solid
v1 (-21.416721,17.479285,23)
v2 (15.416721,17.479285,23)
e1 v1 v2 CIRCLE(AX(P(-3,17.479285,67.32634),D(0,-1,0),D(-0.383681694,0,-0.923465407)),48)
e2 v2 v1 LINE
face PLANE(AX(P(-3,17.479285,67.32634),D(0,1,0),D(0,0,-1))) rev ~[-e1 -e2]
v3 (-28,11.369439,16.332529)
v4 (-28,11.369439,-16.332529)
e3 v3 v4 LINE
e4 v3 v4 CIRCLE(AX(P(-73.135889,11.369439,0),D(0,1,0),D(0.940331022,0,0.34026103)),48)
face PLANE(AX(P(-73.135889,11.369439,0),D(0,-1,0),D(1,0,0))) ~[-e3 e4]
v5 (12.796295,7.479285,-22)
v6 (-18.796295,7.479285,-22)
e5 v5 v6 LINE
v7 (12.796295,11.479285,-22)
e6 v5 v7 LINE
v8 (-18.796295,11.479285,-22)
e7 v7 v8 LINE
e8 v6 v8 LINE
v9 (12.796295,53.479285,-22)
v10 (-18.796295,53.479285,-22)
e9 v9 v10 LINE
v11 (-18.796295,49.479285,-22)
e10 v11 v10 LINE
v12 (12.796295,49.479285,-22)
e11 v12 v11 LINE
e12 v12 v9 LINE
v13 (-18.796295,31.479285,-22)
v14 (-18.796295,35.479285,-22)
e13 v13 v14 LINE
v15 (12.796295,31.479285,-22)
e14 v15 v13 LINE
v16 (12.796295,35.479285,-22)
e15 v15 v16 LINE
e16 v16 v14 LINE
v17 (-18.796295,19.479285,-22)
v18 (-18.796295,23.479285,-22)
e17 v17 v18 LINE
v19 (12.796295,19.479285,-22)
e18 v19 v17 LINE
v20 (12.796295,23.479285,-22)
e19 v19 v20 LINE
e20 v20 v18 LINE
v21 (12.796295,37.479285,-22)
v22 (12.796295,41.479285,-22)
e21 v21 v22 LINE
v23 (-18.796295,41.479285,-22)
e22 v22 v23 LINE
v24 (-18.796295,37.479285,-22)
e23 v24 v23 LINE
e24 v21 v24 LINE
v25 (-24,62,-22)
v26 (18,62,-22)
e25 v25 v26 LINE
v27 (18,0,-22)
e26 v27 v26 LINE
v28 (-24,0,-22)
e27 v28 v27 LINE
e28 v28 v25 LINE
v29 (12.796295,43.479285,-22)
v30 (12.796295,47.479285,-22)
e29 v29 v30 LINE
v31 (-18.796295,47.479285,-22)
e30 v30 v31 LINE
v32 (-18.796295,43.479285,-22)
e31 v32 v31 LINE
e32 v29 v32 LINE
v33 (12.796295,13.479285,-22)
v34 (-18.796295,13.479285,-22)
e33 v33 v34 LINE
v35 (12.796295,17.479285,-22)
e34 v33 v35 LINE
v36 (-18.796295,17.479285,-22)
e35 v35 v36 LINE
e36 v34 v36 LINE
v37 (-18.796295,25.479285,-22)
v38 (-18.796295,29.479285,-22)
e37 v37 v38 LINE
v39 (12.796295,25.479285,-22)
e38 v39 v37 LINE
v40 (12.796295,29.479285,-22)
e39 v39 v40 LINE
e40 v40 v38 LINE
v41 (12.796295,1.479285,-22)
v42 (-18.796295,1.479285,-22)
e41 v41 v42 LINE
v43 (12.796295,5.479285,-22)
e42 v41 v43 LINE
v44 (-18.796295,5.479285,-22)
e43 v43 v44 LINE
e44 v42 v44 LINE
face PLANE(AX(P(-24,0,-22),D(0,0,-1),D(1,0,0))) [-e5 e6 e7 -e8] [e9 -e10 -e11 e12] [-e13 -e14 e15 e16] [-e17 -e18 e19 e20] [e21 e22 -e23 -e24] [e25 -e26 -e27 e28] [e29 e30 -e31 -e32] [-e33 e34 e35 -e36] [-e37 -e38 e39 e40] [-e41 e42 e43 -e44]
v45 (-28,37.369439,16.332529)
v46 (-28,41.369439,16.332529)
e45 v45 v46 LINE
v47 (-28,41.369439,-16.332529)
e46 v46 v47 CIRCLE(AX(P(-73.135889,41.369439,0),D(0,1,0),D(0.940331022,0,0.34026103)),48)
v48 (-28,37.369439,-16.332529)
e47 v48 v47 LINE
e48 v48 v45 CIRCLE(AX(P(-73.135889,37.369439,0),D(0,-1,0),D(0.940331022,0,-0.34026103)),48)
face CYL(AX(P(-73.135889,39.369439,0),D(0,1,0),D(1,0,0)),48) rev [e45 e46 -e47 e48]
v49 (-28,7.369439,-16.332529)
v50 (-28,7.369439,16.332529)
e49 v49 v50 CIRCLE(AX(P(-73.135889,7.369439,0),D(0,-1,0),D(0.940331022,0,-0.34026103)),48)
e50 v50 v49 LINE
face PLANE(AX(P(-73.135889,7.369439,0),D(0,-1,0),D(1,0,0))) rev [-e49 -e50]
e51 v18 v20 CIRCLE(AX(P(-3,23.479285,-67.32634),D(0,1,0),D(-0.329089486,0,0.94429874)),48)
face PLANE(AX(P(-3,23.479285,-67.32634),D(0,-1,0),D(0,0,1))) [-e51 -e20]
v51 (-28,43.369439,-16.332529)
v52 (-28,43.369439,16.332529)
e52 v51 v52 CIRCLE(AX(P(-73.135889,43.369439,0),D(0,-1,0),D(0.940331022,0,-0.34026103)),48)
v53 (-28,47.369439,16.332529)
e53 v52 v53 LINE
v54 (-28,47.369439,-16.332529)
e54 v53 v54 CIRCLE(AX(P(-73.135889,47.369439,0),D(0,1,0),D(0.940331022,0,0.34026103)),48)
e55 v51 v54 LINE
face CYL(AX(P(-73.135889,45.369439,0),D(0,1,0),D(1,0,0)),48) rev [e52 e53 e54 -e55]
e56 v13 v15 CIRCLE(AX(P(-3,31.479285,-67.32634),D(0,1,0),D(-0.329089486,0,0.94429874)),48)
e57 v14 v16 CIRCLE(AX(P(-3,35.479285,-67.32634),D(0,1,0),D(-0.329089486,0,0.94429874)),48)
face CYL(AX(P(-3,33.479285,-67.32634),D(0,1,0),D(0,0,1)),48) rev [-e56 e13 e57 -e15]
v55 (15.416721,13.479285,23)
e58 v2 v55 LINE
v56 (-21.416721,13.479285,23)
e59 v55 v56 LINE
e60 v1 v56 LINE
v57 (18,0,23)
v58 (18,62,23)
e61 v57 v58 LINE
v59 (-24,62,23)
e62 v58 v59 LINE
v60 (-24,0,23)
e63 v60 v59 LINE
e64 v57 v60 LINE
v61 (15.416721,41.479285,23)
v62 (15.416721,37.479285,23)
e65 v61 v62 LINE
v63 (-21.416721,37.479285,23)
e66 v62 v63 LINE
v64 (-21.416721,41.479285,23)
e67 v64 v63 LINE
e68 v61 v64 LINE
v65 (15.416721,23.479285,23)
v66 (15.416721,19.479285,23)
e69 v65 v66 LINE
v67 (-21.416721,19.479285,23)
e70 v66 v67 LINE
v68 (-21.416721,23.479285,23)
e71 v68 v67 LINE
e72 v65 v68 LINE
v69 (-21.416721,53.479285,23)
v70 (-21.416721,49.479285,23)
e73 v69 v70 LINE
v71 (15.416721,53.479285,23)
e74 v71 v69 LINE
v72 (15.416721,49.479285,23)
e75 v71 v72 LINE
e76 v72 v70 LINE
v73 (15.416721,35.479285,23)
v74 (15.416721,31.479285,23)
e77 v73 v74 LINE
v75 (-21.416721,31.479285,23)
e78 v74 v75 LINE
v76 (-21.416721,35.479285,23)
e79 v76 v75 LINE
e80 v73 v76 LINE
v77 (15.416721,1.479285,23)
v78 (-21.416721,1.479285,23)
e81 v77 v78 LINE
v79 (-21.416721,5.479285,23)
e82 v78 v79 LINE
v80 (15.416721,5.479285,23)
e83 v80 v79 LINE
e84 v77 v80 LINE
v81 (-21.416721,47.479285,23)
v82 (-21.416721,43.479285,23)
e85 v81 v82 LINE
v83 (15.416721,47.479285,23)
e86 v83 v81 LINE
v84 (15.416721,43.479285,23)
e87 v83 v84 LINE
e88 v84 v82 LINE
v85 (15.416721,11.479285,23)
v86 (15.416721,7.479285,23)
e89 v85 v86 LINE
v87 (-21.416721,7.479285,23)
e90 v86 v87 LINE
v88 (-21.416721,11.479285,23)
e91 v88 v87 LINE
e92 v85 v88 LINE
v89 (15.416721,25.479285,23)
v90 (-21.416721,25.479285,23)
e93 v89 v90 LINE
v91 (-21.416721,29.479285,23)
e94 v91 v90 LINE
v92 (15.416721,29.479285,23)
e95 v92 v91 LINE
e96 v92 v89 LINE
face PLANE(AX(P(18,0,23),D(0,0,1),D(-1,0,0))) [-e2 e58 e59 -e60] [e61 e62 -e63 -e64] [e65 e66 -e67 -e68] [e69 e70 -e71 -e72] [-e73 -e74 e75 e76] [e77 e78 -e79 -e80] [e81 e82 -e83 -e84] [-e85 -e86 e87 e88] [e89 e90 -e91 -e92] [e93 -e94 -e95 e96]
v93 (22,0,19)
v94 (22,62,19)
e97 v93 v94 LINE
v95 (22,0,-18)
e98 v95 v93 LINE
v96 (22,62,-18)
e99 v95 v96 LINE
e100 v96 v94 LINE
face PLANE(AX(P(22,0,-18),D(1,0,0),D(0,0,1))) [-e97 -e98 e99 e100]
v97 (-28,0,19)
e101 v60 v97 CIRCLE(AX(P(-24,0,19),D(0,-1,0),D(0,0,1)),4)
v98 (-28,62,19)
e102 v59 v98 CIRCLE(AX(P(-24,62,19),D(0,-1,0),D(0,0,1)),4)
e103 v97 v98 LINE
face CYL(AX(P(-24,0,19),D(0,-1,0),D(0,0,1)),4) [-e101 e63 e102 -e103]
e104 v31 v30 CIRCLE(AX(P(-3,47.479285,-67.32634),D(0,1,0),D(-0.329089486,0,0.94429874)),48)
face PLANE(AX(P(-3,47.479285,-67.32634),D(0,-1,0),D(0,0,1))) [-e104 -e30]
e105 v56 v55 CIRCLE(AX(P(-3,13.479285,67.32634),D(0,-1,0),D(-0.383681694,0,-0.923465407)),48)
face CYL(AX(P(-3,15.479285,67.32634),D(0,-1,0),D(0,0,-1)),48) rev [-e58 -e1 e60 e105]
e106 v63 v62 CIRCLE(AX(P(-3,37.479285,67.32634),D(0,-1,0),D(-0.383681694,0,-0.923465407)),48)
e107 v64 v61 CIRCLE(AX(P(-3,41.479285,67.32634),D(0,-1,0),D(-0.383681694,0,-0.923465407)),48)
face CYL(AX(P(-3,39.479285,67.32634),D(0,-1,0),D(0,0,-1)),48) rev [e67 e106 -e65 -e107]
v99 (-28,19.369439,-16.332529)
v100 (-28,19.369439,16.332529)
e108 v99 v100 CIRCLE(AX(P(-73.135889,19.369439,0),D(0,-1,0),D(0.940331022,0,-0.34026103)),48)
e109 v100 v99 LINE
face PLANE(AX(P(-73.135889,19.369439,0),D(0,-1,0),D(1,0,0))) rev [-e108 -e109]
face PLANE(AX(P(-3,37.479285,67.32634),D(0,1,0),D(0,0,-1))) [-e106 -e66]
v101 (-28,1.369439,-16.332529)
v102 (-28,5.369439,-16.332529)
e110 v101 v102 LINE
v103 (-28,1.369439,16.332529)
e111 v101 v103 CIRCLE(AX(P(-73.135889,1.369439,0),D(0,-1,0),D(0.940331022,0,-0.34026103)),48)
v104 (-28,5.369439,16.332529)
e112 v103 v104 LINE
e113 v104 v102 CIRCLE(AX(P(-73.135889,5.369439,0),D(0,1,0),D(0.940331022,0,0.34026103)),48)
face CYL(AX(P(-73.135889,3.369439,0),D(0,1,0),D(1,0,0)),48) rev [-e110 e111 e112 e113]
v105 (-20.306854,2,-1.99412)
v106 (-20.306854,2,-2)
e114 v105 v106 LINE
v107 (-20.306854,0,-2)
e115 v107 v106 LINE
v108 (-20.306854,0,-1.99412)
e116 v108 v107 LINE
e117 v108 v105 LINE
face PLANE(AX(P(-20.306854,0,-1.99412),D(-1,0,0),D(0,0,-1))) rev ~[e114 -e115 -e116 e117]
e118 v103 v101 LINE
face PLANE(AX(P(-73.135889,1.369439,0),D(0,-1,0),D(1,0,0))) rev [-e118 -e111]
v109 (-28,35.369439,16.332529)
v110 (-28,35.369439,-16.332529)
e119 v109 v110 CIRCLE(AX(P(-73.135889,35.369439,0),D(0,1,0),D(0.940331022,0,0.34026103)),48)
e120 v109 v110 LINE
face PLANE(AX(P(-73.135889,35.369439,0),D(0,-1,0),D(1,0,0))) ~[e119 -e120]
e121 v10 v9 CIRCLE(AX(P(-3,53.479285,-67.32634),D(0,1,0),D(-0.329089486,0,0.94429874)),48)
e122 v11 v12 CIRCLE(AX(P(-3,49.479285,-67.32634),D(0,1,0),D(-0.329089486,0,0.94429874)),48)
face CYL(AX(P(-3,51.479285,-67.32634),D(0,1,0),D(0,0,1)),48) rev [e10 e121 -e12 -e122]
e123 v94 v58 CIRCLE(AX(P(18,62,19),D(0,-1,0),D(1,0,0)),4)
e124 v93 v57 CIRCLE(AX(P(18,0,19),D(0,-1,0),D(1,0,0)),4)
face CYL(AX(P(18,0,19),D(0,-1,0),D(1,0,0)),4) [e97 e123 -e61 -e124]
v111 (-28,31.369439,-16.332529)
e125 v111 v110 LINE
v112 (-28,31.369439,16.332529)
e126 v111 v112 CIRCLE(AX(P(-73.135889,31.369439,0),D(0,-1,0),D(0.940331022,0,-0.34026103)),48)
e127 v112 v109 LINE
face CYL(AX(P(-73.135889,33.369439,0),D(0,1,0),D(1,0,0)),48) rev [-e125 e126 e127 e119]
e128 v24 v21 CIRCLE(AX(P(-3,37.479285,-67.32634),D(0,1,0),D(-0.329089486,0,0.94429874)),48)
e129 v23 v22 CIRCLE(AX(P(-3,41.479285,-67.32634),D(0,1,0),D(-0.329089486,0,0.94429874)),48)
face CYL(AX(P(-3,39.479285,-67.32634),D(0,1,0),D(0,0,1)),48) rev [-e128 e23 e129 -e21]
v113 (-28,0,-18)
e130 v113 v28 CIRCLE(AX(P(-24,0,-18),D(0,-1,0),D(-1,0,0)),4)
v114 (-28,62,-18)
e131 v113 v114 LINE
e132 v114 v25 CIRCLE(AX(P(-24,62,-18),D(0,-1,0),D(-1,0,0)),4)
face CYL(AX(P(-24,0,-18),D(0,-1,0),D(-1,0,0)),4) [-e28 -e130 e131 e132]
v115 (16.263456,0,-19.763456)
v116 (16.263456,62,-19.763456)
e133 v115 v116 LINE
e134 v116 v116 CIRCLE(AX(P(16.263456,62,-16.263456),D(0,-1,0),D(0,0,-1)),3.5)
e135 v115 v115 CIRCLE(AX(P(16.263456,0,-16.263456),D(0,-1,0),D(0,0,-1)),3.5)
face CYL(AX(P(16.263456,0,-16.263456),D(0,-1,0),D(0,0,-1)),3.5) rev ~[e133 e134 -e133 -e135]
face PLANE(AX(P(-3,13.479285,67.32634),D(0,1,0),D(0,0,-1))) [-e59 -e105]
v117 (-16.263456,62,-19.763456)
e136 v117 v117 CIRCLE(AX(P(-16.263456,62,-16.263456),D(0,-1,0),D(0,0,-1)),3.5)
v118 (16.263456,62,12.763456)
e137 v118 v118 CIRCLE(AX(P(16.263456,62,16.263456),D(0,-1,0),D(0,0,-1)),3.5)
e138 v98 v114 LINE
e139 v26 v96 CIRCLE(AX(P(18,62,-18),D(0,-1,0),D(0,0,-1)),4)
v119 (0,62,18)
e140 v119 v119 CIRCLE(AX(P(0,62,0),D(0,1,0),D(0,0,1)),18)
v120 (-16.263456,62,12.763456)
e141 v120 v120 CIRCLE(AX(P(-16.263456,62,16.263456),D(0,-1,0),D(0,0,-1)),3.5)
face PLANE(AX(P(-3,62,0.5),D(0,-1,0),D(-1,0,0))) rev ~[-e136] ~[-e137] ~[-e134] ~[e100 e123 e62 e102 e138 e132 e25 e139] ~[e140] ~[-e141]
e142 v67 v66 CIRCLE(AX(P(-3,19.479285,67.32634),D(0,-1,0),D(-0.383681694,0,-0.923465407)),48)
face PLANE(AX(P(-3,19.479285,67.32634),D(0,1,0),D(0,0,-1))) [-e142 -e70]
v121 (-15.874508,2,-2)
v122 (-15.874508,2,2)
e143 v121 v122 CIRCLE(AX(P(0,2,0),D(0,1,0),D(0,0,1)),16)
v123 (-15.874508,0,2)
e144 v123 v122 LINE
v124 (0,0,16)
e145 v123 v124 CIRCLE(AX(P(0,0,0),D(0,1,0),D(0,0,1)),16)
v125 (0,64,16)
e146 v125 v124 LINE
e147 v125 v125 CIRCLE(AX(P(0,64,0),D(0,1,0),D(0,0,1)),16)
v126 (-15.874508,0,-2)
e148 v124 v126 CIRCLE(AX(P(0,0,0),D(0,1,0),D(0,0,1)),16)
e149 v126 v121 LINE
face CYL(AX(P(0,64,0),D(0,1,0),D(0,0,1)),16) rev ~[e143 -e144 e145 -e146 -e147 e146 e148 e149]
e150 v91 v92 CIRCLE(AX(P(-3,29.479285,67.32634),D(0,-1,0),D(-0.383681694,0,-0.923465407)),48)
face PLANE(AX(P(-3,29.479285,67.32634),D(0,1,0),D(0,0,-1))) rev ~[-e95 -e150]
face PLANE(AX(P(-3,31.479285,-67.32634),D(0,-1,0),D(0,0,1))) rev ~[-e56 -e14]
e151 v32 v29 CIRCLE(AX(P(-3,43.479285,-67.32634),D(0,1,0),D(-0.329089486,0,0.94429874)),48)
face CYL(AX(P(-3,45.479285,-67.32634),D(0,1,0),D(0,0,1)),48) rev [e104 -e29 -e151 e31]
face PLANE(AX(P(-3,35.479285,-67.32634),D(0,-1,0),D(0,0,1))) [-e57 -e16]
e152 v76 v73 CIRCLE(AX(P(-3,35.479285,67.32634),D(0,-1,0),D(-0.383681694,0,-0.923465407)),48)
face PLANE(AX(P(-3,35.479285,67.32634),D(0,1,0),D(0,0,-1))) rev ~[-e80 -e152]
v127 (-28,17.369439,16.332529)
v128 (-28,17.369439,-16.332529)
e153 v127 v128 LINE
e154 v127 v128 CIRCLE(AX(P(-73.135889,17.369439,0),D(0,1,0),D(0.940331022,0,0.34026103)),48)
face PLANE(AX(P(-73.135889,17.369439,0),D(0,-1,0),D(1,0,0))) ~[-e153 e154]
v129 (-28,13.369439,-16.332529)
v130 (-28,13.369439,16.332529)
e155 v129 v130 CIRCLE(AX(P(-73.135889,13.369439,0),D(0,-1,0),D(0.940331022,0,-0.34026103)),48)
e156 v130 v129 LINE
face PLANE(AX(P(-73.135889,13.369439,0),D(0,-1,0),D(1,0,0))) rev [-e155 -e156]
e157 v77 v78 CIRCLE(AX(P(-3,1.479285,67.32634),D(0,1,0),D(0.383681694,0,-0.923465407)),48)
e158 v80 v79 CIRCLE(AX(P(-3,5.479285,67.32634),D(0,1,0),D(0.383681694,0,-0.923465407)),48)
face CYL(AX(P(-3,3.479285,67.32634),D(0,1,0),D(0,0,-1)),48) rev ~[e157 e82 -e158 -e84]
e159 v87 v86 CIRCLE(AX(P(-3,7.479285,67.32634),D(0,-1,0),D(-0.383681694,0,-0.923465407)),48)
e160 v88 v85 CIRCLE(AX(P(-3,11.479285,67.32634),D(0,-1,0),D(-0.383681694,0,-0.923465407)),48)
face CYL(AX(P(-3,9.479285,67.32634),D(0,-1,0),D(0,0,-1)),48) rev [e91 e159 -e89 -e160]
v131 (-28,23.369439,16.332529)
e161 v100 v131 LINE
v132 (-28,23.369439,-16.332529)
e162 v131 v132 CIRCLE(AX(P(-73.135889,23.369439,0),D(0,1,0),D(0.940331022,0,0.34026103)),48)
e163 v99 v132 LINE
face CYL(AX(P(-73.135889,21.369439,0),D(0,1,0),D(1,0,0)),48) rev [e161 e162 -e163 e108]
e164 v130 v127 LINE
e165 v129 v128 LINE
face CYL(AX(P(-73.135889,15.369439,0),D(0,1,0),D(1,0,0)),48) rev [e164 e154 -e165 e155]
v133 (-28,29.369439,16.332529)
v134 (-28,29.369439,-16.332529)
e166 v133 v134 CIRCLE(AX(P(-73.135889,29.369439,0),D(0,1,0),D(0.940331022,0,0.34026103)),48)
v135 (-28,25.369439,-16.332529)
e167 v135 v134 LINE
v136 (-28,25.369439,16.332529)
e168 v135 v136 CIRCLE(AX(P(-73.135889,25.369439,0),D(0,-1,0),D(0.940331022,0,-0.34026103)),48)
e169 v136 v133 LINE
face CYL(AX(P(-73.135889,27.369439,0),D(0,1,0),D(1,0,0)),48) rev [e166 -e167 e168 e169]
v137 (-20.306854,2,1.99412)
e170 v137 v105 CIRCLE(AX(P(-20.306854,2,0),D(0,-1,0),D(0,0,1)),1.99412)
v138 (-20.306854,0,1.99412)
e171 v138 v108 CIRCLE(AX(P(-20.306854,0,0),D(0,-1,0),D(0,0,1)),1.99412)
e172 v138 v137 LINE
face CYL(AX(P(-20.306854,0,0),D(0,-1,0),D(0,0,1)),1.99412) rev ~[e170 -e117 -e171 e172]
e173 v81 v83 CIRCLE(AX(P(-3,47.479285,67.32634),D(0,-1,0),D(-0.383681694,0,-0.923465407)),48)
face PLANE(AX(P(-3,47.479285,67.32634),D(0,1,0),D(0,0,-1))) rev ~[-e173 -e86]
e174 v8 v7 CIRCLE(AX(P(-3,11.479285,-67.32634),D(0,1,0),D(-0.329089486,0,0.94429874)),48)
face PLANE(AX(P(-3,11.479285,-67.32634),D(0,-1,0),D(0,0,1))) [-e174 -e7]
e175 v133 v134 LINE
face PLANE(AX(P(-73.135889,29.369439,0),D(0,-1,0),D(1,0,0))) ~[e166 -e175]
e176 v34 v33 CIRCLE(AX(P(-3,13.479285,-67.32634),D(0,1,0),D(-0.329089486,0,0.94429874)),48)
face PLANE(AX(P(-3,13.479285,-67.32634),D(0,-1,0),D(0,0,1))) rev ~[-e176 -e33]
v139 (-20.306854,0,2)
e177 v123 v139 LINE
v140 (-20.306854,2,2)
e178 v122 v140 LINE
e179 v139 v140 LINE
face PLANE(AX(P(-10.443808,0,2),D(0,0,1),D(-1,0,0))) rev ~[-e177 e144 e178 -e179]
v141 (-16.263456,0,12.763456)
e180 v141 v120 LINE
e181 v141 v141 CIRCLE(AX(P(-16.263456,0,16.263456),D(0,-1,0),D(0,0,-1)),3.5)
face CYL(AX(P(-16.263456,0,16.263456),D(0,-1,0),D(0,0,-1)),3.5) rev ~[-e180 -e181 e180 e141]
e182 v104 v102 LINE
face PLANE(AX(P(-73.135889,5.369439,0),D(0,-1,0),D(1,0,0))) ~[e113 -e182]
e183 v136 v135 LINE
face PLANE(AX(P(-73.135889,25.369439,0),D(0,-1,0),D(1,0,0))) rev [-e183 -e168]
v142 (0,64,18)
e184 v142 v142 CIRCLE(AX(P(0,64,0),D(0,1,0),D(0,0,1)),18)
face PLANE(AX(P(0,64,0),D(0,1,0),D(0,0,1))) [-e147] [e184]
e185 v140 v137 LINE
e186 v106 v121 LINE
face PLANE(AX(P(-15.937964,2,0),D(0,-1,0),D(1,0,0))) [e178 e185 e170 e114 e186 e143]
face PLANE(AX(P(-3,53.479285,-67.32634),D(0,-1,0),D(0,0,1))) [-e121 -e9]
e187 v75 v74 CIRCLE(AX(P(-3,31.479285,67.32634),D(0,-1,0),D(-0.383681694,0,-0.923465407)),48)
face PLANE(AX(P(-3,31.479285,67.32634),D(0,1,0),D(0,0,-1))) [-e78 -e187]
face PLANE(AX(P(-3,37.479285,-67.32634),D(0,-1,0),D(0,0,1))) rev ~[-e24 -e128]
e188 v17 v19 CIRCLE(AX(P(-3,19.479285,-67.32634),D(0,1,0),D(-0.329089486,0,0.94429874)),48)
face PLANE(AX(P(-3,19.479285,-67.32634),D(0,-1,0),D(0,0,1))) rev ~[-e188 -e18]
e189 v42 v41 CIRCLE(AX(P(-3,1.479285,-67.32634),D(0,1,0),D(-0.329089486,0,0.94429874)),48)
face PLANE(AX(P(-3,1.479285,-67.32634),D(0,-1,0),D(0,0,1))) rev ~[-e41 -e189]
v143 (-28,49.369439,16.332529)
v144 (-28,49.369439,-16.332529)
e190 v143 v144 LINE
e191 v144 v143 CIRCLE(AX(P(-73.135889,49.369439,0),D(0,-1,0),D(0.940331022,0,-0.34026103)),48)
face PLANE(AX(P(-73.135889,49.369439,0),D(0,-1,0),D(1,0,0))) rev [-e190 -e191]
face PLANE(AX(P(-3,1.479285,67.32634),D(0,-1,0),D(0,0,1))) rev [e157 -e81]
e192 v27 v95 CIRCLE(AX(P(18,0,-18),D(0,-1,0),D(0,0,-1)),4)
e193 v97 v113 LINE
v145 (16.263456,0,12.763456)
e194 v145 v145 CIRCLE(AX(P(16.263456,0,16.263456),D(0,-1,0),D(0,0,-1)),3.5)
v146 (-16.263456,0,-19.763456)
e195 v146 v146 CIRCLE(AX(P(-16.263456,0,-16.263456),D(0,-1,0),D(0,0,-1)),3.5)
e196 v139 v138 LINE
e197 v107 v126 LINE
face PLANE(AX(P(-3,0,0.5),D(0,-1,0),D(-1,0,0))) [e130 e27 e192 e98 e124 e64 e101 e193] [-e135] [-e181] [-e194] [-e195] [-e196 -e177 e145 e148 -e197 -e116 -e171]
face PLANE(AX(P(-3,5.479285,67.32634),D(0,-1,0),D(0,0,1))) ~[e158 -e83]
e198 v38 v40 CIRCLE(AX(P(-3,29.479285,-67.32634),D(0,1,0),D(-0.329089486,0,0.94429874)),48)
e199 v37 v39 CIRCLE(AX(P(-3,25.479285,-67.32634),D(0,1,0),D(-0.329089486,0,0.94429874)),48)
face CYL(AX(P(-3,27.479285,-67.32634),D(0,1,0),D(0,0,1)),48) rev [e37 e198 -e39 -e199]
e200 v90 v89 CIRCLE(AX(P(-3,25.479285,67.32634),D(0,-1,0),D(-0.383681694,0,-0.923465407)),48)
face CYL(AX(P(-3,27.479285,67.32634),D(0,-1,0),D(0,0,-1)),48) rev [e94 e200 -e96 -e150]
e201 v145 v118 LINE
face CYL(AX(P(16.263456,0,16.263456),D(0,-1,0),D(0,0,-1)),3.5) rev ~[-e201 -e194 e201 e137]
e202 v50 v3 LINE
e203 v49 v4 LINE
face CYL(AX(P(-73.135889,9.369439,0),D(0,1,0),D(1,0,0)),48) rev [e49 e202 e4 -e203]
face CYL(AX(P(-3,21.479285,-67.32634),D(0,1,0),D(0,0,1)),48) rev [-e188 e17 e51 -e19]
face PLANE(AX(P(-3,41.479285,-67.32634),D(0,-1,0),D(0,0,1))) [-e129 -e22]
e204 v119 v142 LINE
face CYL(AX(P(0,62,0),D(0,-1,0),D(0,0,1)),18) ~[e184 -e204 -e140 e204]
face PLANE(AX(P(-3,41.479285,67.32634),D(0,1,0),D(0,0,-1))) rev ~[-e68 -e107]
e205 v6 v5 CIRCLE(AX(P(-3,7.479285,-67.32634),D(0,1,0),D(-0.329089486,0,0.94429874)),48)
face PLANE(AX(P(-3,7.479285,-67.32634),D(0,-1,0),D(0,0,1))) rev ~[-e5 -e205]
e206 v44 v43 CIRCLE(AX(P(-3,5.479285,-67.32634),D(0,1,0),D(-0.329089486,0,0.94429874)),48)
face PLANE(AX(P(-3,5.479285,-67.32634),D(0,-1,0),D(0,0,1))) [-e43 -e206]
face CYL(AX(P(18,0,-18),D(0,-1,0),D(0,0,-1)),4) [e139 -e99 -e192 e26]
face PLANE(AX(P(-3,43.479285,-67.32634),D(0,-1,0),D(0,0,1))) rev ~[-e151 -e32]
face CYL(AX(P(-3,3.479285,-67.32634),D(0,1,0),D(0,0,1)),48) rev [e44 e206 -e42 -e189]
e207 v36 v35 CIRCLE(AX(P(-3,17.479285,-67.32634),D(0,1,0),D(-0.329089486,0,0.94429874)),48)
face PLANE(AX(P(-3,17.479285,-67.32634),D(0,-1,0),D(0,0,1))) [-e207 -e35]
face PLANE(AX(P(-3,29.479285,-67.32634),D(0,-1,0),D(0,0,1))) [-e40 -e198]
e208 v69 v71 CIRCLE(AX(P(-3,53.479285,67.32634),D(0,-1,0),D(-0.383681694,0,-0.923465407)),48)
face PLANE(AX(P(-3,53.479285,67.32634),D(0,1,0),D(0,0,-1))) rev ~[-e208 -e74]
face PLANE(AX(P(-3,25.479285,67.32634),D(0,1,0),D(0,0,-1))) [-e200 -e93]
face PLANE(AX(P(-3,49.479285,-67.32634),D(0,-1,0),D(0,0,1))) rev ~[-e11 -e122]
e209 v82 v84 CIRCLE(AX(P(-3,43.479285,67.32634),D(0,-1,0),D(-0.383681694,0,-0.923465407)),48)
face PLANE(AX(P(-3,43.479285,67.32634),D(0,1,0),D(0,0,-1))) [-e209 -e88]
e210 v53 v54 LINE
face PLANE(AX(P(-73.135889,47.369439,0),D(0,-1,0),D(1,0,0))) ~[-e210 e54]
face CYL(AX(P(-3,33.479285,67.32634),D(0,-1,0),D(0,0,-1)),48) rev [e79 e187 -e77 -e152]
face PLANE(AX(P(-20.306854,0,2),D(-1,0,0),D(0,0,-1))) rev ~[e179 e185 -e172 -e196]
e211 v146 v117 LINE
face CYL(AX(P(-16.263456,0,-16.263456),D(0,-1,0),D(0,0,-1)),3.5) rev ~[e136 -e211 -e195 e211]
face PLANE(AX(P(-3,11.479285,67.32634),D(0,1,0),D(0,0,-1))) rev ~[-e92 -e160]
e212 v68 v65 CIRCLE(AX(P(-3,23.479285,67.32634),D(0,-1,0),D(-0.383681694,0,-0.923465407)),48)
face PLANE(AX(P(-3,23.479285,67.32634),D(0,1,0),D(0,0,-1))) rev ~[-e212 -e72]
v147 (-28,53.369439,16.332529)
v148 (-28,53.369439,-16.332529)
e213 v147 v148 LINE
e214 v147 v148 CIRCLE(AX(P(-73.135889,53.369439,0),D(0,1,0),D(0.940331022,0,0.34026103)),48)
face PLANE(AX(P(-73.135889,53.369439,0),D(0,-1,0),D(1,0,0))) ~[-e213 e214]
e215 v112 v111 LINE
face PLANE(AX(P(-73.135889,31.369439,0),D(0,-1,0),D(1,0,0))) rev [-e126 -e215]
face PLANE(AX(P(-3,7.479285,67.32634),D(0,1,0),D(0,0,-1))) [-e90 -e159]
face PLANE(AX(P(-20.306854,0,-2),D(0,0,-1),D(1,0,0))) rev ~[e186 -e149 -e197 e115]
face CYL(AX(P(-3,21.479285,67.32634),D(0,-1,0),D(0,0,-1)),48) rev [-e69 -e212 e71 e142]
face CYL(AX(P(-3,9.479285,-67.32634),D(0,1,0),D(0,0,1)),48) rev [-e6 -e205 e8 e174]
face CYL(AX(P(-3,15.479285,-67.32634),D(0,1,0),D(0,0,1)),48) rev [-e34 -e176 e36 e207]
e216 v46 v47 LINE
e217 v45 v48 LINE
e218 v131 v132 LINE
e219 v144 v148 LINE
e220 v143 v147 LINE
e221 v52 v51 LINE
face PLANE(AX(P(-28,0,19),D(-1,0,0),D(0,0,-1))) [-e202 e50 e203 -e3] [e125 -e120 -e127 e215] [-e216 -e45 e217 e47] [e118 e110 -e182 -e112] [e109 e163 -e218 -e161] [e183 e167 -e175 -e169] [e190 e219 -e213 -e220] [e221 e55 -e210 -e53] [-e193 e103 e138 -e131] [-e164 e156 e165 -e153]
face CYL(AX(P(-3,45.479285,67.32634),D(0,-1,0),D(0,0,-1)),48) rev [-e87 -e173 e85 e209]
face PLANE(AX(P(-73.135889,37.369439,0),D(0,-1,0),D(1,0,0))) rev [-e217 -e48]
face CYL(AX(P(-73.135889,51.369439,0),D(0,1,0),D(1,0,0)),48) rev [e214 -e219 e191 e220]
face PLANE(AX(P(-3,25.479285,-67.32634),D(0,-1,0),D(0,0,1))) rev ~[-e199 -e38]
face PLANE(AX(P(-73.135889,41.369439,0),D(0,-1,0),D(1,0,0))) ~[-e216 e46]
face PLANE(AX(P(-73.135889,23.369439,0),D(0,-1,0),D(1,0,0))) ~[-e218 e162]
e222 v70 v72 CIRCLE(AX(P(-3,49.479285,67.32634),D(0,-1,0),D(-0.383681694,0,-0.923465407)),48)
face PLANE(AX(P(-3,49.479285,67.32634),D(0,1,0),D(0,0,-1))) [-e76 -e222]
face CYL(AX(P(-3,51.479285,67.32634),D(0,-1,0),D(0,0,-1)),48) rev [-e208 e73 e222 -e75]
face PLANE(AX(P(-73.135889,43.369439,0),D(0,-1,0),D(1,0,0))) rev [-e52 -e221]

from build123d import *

# Parameters (mm, degrees)
BOSS_EXTRUDE1_DEPTH     = 62
SKETCH2_R               = 18
BOSS_EXTRUDE2_DEPTH     = 2
SKETCH3_R               = 16
CUT_EXTRUDE1_DEPTH      = 74.545904033
CUT_EXTRUDE2_DEPTH      = 2
SKETCH5_R               = 3.5
CUT_EXTRUDE3_DEPTH      = 74.545904033
SKETCH7_W               = 48
SKETCH7_H               = 4
LPATTERN1_COUNT         = 9
LPATTERN1_PITCH         = 6
MIRROR1_COPY_1_SKETCH_W = 48
MIRROR1_COPY_1_SKETCH_H = 4
MIRROR1_COPY_2_SKETCH_W = 48
MIRROR1_COPY_2_SKETCH_H = 4
MIRROR1_COPY_3_SKETCH_W = 48
MIRROR1_COPY_3_SKETCH_H = 4
MIRROR1_COPY_4_SKETCH_W = 48
MIRROR1_COPY_4_SKETCH_H = 4
MIRROR1_COPY_5_SKETCH_W = 48
MIRROR1_COPY_5_SKETCH_H = 4
MIRROR1_COPY_6_SKETCH_W = 48
MIRROR1_COPY_6_SKETCH_H = 4
MIRROR1_COPY_7_SKETCH_W = 48
MIRROR1_COPY_7_SKETCH_H = 4
MIRROR1_COPY_8_SKETCH_W = 48
MIRROR1_COPY_8_SKETCH_H = 4
SKETCH10_W              = 48
SKETCH10_H              = 4
LPATTERN2_COUNT         = 9
LPATTERN2_PITCH         = 6


with BuildPart() as part:
    # Sketch1 → Boss-Extrude1 (new body)
    with BuildSketch(Plane(origin=(0, 0, 0), x_dir=(1, 0, 0), z_dir=(0, 1, 0))):
        with BuildLine():
            Line((-24, 22), (18, 22))
            ThreePointArc((18, 22), (20.828427125, 20.828427125), (22, 18))
            Line((22, 18), (22, -19))
            ThreePointArc((22, -19), (20.828427125, -21.828427125), (18, -23))
            Line((18, -23), (-24, -23))
            ThreePointArc((-24, -23), (-26.828427125, -21.828427125), (-28, -19))
            Line((-28, -19), (-28, 18))
            ThreePointArc((-28, 18), (-26.828427125, 20.828427125), (-24, 22))
        make_face()
    extrude(amount=BOSS_EXTRUDE1_DEPTH)

    # Sketch2 → Boss-Extrude2 (add)
    with BuildSketch(Plane(origin=(0, 62, 0), x_dir=(1, 0, 0), z_dir=(0, 1, 0))):
        with Locations(Location((0, 0, 0), (0, 0, 270))):
            Circle(SKETCH2_R)
    extrude(amount=BOSS_EXTRUDE2_DEPTH)

    # Sketch3 → Cut-Extrude1 (cut, through all)
    with BuildSketch(Plane(origin=(0, 64, 0), x_dir=(1, 0, 0), z_dir=(0, 1, 0))):
        with Locations(Location((0, 0, 0), (0, 0, 270))):
            Circle(SKETCH3_R)
    extrude(amount=-CUT_EXTRUDE1_DEPTH, mode=Mode.SUBTRACT)

    # Sketch4 → Cut-Extrude2 (cut)
    with BuildSketch(Plane.XZ):
        with BuildLine():
            Line((-20.306853537, -1.994120307), (-20.306853537, -2))
            Line((-20.306853537, -2), (-10.443807973, -2))
            Line((-10.443807973, -2), (-10.443807973, 2))
            Line((-10.443807973, 2), (-20.306853537, 2))
            Line((-20.306853537, 2), (-20.306853537, 1.994120307))
            ThreePointArc((-20.306853537, 1.994120307), (-22.300973844, 0), (-20.306853537, -1.994120307))
        make_face()
    extrude(amount=-CUT_EXTRUDE2_DEPTH, mode=Mode.SUBTRACT)

    # Sketch5 → Cut-Extrude3 (cut, through all)
    with BuildSketch(Plane.XZ):
        with Locations(Location((16.263455967, 16.263455967, 0), (0, 0, 270))):
            Circle(SKETCH5_R)
        with Locations(Location((16.263455967, -16.263455967, 0), (0, 0, 270))):
            Circle(SKETCH5_R)
        with Locations(Location((-16.263455967, -16.263455967, 0), (0, 0, 270))):
            Circle(SKETCH5_R)
        with Locations(Location((-16.263455967, 16.263455967, 0), (0, 0, 270))):
            Circle(SKETCH5_R)
    extrude(amount=-CUT_EXTRUDE3_DEPTH, mode=Mode.SUBTRACT)

    # Sketch7 → Cut-Revolve1 (revolve, cut)
    with BuildSketch(Plane(origin=(-3, 0, 0), x_dir=(0, 0, -1), z_dir=(1, 0, 0))):
        with Locations((43.326339521, 3.479284524)):
            Rectangle(SKETCH7_W, SKETCH7_H)
    cut_revolve1 = revolve(axis=Axis((-3, 5.479284524, -67.326339521), (0, -1, 0)), mode=Mode.SUBTRACT)

    # LPattern1: Cut-Revolve1 ×9
    with Locations(*[(0, i * LPATTERN1_PITCH, 0) for i in range(1, LPATTERN1_COUNT)]):
        add(cut_revolve1, mode=Mode.SUBTRACT)

    # Mirror1: Cut-Revolve1 across plane
    add(cut_revolve1.mirror(Plane.XY), mode=Mode.SUBTRACT)

    # Mirror1 copy 1 sketch → Mirror1 copy 1 (revolve, cut)
    with BuildSketch(Plane(origin=(-3, 6, 0), x_dir=(0, 0, 1), z_dir=(1, 0, 0))):
        with Locations((43.326339521, -3.479284524)):
            Rectangle(MIRROR1_COPY_1_SKETCH_W, MIRROR1_COPY_1_SKETCH_H)
    revolve(axis=Axis((-3, 11.479284524, 67.326339521), (0, 1, 0)), mode=Mode.SUBTRACT)

    # Mirror1 copy 2 sketch → Mirror1 copy 2 (revolve, cut)
    with BuildSketch(Plane(origin=(-3, 12, 0), x_dir=(0, 0, 1), z_dir=(1, 0, 0))):
        with Locations((43.326339521, -3.479284524)):
            Rectangle(MIRROR1_COPY_2_SKETCH_W, MIRROR1_COPY_2_SKETCH_H)
    revolve(axis=Axis((-3, 17.479284524, 67.326339521), (0, 1, 0)), mode=Mode.SUBTRACT)

    # Mirror1 copy 3 sketch → Mirror1 copy 3 (revolve, cut)
    with BuildSketch(Plane(origin=(-3, 18, 0), x_dir=(0, 0, 1), z_dir=(1, 0, 0))):
        with Locations((43.326339521, -3.479284524)):
            Rectangle(MIRROR1_COPY_3_SKETCH_W, MIRROR1_COPY_3_SKETCH_H)
    revolve(axis=Axis((-3, 23.479284524, 67.326339521), (0, 1, 0)), mode=Mode.SUBTRACT)

    # Mirror1 copy 4 sketch → Mirror1 copy 4 (revolve, cut)
    with BuildSketch(Plane(origin=(-3, 24, 0), x_dir=(0, 0, 1), z_dir=(1, 0, 0))):
        with Locations((43.326339521, -3.479284524)):
            Rectangle(MIRROR1_COPY_4_SKETCH_W, MIRROR1_COPY_4_SKETCH_H)
    revolve(axis=Axis((-3, 29.479284524, 67.326339521), (0, 1, 0)), mode=Mode.SUBTRACT)

    # Mirror1 copy 5 sketch → Mirror1 copy 5 (revolve, cut)
    with BuildSketch(Plane(origin=(-3, 30, 0), x_dir=(0, 0, 1), z_dir=(1, 0, 0))):
        with Locations((43.326339521, -3.479284524)):
            Rectangle(MIRROR1_COPY_5_SKETCH_W, MIRROR1_COPY_5_SKETCH_H)
    revolve(axis=Axis((-3, 35.479284524, 67.326339521), (0, 1, 0)), mode=Mode.SUBTRACT)

    # Mirror1 copy 6 sketch → Mirror1 copy 6 (revolve, cut)
    with BuildSketch(Plane(origin=(-3, 36, 0), x_dir=(0, 0, 1), z_dir=(1, 0, 0))):
        with Locations((43.326339521, -3.479284524)):
            Rectangle(MIRROR1_COPY_6_SKETCH_W, MIRROR1_COPY_6_SKETCH_H)
    revolve(axis=Axis((-3, 41.479284524, 67.326339521), (0, 1, 0)), mode=Mode.SUBTRACT)

    # Mirror1 copy 7 sketch → Mirror1 copy 7 (revolve, cut)
    with BuildSketch(Plane(origin=(-3, 42, 0), x_dir=(0, 0, 1), z_dir=(1, 0, 0))):
        with Locations((43.326339521, -3.479284524)):
            Rectangle(MIRROR1_COPY_7_SKETCH_W, MIRROR1_COPY_7_SKETCH_H)
    revolve(axis=Axis((-3, 47.479284524, 67.326339521), (0, 1, 0)), mode=Mode.SUBTRACT)

    # Mirror1 copy 8 sketch → Mirror1 copy 8 (revolve, cut)
    with BuildSketch(Plane(origin=(-3, 48, 0), x_dir=(0, 0, 1), z_dir=(1, 0, 0))):
        with Locations((43.326339521, -3.479284524)):
            Rectangle(MIRROR1_COPY_8_SKETCH_W, MIRROR1_COPY_8_SKETCH_H)
    revolve(axis=Axis((-3, 53.479284524, 67.326339521), (0, 1, 0)), mode=Mode.SUBTRACT)

    # Sketch10 → Cut-Revolve2 (revolve, cut)
    with BuildSketch(Plane.XY):
        with Locations((-49.135889072, 3.369439349)):
            Rectangle(SKETCH10_W, SKETCH10_H)
    cut_revolve2 = revolve(axis=Axis((-73.135889072, 5.369439349, 0), (0, -1, 0)), mode=Mode.SUBTRACT)

    # LPattern2: Cut-Revolve2 ×9
    with Locations(*[(0, i * LPATTERN2_PITCH, 0) for i in range(1, LPATTERN2_COUNT)]):
        add(cut_revolve2, mode=Mode.SUBTRACT)


solid = part.part
